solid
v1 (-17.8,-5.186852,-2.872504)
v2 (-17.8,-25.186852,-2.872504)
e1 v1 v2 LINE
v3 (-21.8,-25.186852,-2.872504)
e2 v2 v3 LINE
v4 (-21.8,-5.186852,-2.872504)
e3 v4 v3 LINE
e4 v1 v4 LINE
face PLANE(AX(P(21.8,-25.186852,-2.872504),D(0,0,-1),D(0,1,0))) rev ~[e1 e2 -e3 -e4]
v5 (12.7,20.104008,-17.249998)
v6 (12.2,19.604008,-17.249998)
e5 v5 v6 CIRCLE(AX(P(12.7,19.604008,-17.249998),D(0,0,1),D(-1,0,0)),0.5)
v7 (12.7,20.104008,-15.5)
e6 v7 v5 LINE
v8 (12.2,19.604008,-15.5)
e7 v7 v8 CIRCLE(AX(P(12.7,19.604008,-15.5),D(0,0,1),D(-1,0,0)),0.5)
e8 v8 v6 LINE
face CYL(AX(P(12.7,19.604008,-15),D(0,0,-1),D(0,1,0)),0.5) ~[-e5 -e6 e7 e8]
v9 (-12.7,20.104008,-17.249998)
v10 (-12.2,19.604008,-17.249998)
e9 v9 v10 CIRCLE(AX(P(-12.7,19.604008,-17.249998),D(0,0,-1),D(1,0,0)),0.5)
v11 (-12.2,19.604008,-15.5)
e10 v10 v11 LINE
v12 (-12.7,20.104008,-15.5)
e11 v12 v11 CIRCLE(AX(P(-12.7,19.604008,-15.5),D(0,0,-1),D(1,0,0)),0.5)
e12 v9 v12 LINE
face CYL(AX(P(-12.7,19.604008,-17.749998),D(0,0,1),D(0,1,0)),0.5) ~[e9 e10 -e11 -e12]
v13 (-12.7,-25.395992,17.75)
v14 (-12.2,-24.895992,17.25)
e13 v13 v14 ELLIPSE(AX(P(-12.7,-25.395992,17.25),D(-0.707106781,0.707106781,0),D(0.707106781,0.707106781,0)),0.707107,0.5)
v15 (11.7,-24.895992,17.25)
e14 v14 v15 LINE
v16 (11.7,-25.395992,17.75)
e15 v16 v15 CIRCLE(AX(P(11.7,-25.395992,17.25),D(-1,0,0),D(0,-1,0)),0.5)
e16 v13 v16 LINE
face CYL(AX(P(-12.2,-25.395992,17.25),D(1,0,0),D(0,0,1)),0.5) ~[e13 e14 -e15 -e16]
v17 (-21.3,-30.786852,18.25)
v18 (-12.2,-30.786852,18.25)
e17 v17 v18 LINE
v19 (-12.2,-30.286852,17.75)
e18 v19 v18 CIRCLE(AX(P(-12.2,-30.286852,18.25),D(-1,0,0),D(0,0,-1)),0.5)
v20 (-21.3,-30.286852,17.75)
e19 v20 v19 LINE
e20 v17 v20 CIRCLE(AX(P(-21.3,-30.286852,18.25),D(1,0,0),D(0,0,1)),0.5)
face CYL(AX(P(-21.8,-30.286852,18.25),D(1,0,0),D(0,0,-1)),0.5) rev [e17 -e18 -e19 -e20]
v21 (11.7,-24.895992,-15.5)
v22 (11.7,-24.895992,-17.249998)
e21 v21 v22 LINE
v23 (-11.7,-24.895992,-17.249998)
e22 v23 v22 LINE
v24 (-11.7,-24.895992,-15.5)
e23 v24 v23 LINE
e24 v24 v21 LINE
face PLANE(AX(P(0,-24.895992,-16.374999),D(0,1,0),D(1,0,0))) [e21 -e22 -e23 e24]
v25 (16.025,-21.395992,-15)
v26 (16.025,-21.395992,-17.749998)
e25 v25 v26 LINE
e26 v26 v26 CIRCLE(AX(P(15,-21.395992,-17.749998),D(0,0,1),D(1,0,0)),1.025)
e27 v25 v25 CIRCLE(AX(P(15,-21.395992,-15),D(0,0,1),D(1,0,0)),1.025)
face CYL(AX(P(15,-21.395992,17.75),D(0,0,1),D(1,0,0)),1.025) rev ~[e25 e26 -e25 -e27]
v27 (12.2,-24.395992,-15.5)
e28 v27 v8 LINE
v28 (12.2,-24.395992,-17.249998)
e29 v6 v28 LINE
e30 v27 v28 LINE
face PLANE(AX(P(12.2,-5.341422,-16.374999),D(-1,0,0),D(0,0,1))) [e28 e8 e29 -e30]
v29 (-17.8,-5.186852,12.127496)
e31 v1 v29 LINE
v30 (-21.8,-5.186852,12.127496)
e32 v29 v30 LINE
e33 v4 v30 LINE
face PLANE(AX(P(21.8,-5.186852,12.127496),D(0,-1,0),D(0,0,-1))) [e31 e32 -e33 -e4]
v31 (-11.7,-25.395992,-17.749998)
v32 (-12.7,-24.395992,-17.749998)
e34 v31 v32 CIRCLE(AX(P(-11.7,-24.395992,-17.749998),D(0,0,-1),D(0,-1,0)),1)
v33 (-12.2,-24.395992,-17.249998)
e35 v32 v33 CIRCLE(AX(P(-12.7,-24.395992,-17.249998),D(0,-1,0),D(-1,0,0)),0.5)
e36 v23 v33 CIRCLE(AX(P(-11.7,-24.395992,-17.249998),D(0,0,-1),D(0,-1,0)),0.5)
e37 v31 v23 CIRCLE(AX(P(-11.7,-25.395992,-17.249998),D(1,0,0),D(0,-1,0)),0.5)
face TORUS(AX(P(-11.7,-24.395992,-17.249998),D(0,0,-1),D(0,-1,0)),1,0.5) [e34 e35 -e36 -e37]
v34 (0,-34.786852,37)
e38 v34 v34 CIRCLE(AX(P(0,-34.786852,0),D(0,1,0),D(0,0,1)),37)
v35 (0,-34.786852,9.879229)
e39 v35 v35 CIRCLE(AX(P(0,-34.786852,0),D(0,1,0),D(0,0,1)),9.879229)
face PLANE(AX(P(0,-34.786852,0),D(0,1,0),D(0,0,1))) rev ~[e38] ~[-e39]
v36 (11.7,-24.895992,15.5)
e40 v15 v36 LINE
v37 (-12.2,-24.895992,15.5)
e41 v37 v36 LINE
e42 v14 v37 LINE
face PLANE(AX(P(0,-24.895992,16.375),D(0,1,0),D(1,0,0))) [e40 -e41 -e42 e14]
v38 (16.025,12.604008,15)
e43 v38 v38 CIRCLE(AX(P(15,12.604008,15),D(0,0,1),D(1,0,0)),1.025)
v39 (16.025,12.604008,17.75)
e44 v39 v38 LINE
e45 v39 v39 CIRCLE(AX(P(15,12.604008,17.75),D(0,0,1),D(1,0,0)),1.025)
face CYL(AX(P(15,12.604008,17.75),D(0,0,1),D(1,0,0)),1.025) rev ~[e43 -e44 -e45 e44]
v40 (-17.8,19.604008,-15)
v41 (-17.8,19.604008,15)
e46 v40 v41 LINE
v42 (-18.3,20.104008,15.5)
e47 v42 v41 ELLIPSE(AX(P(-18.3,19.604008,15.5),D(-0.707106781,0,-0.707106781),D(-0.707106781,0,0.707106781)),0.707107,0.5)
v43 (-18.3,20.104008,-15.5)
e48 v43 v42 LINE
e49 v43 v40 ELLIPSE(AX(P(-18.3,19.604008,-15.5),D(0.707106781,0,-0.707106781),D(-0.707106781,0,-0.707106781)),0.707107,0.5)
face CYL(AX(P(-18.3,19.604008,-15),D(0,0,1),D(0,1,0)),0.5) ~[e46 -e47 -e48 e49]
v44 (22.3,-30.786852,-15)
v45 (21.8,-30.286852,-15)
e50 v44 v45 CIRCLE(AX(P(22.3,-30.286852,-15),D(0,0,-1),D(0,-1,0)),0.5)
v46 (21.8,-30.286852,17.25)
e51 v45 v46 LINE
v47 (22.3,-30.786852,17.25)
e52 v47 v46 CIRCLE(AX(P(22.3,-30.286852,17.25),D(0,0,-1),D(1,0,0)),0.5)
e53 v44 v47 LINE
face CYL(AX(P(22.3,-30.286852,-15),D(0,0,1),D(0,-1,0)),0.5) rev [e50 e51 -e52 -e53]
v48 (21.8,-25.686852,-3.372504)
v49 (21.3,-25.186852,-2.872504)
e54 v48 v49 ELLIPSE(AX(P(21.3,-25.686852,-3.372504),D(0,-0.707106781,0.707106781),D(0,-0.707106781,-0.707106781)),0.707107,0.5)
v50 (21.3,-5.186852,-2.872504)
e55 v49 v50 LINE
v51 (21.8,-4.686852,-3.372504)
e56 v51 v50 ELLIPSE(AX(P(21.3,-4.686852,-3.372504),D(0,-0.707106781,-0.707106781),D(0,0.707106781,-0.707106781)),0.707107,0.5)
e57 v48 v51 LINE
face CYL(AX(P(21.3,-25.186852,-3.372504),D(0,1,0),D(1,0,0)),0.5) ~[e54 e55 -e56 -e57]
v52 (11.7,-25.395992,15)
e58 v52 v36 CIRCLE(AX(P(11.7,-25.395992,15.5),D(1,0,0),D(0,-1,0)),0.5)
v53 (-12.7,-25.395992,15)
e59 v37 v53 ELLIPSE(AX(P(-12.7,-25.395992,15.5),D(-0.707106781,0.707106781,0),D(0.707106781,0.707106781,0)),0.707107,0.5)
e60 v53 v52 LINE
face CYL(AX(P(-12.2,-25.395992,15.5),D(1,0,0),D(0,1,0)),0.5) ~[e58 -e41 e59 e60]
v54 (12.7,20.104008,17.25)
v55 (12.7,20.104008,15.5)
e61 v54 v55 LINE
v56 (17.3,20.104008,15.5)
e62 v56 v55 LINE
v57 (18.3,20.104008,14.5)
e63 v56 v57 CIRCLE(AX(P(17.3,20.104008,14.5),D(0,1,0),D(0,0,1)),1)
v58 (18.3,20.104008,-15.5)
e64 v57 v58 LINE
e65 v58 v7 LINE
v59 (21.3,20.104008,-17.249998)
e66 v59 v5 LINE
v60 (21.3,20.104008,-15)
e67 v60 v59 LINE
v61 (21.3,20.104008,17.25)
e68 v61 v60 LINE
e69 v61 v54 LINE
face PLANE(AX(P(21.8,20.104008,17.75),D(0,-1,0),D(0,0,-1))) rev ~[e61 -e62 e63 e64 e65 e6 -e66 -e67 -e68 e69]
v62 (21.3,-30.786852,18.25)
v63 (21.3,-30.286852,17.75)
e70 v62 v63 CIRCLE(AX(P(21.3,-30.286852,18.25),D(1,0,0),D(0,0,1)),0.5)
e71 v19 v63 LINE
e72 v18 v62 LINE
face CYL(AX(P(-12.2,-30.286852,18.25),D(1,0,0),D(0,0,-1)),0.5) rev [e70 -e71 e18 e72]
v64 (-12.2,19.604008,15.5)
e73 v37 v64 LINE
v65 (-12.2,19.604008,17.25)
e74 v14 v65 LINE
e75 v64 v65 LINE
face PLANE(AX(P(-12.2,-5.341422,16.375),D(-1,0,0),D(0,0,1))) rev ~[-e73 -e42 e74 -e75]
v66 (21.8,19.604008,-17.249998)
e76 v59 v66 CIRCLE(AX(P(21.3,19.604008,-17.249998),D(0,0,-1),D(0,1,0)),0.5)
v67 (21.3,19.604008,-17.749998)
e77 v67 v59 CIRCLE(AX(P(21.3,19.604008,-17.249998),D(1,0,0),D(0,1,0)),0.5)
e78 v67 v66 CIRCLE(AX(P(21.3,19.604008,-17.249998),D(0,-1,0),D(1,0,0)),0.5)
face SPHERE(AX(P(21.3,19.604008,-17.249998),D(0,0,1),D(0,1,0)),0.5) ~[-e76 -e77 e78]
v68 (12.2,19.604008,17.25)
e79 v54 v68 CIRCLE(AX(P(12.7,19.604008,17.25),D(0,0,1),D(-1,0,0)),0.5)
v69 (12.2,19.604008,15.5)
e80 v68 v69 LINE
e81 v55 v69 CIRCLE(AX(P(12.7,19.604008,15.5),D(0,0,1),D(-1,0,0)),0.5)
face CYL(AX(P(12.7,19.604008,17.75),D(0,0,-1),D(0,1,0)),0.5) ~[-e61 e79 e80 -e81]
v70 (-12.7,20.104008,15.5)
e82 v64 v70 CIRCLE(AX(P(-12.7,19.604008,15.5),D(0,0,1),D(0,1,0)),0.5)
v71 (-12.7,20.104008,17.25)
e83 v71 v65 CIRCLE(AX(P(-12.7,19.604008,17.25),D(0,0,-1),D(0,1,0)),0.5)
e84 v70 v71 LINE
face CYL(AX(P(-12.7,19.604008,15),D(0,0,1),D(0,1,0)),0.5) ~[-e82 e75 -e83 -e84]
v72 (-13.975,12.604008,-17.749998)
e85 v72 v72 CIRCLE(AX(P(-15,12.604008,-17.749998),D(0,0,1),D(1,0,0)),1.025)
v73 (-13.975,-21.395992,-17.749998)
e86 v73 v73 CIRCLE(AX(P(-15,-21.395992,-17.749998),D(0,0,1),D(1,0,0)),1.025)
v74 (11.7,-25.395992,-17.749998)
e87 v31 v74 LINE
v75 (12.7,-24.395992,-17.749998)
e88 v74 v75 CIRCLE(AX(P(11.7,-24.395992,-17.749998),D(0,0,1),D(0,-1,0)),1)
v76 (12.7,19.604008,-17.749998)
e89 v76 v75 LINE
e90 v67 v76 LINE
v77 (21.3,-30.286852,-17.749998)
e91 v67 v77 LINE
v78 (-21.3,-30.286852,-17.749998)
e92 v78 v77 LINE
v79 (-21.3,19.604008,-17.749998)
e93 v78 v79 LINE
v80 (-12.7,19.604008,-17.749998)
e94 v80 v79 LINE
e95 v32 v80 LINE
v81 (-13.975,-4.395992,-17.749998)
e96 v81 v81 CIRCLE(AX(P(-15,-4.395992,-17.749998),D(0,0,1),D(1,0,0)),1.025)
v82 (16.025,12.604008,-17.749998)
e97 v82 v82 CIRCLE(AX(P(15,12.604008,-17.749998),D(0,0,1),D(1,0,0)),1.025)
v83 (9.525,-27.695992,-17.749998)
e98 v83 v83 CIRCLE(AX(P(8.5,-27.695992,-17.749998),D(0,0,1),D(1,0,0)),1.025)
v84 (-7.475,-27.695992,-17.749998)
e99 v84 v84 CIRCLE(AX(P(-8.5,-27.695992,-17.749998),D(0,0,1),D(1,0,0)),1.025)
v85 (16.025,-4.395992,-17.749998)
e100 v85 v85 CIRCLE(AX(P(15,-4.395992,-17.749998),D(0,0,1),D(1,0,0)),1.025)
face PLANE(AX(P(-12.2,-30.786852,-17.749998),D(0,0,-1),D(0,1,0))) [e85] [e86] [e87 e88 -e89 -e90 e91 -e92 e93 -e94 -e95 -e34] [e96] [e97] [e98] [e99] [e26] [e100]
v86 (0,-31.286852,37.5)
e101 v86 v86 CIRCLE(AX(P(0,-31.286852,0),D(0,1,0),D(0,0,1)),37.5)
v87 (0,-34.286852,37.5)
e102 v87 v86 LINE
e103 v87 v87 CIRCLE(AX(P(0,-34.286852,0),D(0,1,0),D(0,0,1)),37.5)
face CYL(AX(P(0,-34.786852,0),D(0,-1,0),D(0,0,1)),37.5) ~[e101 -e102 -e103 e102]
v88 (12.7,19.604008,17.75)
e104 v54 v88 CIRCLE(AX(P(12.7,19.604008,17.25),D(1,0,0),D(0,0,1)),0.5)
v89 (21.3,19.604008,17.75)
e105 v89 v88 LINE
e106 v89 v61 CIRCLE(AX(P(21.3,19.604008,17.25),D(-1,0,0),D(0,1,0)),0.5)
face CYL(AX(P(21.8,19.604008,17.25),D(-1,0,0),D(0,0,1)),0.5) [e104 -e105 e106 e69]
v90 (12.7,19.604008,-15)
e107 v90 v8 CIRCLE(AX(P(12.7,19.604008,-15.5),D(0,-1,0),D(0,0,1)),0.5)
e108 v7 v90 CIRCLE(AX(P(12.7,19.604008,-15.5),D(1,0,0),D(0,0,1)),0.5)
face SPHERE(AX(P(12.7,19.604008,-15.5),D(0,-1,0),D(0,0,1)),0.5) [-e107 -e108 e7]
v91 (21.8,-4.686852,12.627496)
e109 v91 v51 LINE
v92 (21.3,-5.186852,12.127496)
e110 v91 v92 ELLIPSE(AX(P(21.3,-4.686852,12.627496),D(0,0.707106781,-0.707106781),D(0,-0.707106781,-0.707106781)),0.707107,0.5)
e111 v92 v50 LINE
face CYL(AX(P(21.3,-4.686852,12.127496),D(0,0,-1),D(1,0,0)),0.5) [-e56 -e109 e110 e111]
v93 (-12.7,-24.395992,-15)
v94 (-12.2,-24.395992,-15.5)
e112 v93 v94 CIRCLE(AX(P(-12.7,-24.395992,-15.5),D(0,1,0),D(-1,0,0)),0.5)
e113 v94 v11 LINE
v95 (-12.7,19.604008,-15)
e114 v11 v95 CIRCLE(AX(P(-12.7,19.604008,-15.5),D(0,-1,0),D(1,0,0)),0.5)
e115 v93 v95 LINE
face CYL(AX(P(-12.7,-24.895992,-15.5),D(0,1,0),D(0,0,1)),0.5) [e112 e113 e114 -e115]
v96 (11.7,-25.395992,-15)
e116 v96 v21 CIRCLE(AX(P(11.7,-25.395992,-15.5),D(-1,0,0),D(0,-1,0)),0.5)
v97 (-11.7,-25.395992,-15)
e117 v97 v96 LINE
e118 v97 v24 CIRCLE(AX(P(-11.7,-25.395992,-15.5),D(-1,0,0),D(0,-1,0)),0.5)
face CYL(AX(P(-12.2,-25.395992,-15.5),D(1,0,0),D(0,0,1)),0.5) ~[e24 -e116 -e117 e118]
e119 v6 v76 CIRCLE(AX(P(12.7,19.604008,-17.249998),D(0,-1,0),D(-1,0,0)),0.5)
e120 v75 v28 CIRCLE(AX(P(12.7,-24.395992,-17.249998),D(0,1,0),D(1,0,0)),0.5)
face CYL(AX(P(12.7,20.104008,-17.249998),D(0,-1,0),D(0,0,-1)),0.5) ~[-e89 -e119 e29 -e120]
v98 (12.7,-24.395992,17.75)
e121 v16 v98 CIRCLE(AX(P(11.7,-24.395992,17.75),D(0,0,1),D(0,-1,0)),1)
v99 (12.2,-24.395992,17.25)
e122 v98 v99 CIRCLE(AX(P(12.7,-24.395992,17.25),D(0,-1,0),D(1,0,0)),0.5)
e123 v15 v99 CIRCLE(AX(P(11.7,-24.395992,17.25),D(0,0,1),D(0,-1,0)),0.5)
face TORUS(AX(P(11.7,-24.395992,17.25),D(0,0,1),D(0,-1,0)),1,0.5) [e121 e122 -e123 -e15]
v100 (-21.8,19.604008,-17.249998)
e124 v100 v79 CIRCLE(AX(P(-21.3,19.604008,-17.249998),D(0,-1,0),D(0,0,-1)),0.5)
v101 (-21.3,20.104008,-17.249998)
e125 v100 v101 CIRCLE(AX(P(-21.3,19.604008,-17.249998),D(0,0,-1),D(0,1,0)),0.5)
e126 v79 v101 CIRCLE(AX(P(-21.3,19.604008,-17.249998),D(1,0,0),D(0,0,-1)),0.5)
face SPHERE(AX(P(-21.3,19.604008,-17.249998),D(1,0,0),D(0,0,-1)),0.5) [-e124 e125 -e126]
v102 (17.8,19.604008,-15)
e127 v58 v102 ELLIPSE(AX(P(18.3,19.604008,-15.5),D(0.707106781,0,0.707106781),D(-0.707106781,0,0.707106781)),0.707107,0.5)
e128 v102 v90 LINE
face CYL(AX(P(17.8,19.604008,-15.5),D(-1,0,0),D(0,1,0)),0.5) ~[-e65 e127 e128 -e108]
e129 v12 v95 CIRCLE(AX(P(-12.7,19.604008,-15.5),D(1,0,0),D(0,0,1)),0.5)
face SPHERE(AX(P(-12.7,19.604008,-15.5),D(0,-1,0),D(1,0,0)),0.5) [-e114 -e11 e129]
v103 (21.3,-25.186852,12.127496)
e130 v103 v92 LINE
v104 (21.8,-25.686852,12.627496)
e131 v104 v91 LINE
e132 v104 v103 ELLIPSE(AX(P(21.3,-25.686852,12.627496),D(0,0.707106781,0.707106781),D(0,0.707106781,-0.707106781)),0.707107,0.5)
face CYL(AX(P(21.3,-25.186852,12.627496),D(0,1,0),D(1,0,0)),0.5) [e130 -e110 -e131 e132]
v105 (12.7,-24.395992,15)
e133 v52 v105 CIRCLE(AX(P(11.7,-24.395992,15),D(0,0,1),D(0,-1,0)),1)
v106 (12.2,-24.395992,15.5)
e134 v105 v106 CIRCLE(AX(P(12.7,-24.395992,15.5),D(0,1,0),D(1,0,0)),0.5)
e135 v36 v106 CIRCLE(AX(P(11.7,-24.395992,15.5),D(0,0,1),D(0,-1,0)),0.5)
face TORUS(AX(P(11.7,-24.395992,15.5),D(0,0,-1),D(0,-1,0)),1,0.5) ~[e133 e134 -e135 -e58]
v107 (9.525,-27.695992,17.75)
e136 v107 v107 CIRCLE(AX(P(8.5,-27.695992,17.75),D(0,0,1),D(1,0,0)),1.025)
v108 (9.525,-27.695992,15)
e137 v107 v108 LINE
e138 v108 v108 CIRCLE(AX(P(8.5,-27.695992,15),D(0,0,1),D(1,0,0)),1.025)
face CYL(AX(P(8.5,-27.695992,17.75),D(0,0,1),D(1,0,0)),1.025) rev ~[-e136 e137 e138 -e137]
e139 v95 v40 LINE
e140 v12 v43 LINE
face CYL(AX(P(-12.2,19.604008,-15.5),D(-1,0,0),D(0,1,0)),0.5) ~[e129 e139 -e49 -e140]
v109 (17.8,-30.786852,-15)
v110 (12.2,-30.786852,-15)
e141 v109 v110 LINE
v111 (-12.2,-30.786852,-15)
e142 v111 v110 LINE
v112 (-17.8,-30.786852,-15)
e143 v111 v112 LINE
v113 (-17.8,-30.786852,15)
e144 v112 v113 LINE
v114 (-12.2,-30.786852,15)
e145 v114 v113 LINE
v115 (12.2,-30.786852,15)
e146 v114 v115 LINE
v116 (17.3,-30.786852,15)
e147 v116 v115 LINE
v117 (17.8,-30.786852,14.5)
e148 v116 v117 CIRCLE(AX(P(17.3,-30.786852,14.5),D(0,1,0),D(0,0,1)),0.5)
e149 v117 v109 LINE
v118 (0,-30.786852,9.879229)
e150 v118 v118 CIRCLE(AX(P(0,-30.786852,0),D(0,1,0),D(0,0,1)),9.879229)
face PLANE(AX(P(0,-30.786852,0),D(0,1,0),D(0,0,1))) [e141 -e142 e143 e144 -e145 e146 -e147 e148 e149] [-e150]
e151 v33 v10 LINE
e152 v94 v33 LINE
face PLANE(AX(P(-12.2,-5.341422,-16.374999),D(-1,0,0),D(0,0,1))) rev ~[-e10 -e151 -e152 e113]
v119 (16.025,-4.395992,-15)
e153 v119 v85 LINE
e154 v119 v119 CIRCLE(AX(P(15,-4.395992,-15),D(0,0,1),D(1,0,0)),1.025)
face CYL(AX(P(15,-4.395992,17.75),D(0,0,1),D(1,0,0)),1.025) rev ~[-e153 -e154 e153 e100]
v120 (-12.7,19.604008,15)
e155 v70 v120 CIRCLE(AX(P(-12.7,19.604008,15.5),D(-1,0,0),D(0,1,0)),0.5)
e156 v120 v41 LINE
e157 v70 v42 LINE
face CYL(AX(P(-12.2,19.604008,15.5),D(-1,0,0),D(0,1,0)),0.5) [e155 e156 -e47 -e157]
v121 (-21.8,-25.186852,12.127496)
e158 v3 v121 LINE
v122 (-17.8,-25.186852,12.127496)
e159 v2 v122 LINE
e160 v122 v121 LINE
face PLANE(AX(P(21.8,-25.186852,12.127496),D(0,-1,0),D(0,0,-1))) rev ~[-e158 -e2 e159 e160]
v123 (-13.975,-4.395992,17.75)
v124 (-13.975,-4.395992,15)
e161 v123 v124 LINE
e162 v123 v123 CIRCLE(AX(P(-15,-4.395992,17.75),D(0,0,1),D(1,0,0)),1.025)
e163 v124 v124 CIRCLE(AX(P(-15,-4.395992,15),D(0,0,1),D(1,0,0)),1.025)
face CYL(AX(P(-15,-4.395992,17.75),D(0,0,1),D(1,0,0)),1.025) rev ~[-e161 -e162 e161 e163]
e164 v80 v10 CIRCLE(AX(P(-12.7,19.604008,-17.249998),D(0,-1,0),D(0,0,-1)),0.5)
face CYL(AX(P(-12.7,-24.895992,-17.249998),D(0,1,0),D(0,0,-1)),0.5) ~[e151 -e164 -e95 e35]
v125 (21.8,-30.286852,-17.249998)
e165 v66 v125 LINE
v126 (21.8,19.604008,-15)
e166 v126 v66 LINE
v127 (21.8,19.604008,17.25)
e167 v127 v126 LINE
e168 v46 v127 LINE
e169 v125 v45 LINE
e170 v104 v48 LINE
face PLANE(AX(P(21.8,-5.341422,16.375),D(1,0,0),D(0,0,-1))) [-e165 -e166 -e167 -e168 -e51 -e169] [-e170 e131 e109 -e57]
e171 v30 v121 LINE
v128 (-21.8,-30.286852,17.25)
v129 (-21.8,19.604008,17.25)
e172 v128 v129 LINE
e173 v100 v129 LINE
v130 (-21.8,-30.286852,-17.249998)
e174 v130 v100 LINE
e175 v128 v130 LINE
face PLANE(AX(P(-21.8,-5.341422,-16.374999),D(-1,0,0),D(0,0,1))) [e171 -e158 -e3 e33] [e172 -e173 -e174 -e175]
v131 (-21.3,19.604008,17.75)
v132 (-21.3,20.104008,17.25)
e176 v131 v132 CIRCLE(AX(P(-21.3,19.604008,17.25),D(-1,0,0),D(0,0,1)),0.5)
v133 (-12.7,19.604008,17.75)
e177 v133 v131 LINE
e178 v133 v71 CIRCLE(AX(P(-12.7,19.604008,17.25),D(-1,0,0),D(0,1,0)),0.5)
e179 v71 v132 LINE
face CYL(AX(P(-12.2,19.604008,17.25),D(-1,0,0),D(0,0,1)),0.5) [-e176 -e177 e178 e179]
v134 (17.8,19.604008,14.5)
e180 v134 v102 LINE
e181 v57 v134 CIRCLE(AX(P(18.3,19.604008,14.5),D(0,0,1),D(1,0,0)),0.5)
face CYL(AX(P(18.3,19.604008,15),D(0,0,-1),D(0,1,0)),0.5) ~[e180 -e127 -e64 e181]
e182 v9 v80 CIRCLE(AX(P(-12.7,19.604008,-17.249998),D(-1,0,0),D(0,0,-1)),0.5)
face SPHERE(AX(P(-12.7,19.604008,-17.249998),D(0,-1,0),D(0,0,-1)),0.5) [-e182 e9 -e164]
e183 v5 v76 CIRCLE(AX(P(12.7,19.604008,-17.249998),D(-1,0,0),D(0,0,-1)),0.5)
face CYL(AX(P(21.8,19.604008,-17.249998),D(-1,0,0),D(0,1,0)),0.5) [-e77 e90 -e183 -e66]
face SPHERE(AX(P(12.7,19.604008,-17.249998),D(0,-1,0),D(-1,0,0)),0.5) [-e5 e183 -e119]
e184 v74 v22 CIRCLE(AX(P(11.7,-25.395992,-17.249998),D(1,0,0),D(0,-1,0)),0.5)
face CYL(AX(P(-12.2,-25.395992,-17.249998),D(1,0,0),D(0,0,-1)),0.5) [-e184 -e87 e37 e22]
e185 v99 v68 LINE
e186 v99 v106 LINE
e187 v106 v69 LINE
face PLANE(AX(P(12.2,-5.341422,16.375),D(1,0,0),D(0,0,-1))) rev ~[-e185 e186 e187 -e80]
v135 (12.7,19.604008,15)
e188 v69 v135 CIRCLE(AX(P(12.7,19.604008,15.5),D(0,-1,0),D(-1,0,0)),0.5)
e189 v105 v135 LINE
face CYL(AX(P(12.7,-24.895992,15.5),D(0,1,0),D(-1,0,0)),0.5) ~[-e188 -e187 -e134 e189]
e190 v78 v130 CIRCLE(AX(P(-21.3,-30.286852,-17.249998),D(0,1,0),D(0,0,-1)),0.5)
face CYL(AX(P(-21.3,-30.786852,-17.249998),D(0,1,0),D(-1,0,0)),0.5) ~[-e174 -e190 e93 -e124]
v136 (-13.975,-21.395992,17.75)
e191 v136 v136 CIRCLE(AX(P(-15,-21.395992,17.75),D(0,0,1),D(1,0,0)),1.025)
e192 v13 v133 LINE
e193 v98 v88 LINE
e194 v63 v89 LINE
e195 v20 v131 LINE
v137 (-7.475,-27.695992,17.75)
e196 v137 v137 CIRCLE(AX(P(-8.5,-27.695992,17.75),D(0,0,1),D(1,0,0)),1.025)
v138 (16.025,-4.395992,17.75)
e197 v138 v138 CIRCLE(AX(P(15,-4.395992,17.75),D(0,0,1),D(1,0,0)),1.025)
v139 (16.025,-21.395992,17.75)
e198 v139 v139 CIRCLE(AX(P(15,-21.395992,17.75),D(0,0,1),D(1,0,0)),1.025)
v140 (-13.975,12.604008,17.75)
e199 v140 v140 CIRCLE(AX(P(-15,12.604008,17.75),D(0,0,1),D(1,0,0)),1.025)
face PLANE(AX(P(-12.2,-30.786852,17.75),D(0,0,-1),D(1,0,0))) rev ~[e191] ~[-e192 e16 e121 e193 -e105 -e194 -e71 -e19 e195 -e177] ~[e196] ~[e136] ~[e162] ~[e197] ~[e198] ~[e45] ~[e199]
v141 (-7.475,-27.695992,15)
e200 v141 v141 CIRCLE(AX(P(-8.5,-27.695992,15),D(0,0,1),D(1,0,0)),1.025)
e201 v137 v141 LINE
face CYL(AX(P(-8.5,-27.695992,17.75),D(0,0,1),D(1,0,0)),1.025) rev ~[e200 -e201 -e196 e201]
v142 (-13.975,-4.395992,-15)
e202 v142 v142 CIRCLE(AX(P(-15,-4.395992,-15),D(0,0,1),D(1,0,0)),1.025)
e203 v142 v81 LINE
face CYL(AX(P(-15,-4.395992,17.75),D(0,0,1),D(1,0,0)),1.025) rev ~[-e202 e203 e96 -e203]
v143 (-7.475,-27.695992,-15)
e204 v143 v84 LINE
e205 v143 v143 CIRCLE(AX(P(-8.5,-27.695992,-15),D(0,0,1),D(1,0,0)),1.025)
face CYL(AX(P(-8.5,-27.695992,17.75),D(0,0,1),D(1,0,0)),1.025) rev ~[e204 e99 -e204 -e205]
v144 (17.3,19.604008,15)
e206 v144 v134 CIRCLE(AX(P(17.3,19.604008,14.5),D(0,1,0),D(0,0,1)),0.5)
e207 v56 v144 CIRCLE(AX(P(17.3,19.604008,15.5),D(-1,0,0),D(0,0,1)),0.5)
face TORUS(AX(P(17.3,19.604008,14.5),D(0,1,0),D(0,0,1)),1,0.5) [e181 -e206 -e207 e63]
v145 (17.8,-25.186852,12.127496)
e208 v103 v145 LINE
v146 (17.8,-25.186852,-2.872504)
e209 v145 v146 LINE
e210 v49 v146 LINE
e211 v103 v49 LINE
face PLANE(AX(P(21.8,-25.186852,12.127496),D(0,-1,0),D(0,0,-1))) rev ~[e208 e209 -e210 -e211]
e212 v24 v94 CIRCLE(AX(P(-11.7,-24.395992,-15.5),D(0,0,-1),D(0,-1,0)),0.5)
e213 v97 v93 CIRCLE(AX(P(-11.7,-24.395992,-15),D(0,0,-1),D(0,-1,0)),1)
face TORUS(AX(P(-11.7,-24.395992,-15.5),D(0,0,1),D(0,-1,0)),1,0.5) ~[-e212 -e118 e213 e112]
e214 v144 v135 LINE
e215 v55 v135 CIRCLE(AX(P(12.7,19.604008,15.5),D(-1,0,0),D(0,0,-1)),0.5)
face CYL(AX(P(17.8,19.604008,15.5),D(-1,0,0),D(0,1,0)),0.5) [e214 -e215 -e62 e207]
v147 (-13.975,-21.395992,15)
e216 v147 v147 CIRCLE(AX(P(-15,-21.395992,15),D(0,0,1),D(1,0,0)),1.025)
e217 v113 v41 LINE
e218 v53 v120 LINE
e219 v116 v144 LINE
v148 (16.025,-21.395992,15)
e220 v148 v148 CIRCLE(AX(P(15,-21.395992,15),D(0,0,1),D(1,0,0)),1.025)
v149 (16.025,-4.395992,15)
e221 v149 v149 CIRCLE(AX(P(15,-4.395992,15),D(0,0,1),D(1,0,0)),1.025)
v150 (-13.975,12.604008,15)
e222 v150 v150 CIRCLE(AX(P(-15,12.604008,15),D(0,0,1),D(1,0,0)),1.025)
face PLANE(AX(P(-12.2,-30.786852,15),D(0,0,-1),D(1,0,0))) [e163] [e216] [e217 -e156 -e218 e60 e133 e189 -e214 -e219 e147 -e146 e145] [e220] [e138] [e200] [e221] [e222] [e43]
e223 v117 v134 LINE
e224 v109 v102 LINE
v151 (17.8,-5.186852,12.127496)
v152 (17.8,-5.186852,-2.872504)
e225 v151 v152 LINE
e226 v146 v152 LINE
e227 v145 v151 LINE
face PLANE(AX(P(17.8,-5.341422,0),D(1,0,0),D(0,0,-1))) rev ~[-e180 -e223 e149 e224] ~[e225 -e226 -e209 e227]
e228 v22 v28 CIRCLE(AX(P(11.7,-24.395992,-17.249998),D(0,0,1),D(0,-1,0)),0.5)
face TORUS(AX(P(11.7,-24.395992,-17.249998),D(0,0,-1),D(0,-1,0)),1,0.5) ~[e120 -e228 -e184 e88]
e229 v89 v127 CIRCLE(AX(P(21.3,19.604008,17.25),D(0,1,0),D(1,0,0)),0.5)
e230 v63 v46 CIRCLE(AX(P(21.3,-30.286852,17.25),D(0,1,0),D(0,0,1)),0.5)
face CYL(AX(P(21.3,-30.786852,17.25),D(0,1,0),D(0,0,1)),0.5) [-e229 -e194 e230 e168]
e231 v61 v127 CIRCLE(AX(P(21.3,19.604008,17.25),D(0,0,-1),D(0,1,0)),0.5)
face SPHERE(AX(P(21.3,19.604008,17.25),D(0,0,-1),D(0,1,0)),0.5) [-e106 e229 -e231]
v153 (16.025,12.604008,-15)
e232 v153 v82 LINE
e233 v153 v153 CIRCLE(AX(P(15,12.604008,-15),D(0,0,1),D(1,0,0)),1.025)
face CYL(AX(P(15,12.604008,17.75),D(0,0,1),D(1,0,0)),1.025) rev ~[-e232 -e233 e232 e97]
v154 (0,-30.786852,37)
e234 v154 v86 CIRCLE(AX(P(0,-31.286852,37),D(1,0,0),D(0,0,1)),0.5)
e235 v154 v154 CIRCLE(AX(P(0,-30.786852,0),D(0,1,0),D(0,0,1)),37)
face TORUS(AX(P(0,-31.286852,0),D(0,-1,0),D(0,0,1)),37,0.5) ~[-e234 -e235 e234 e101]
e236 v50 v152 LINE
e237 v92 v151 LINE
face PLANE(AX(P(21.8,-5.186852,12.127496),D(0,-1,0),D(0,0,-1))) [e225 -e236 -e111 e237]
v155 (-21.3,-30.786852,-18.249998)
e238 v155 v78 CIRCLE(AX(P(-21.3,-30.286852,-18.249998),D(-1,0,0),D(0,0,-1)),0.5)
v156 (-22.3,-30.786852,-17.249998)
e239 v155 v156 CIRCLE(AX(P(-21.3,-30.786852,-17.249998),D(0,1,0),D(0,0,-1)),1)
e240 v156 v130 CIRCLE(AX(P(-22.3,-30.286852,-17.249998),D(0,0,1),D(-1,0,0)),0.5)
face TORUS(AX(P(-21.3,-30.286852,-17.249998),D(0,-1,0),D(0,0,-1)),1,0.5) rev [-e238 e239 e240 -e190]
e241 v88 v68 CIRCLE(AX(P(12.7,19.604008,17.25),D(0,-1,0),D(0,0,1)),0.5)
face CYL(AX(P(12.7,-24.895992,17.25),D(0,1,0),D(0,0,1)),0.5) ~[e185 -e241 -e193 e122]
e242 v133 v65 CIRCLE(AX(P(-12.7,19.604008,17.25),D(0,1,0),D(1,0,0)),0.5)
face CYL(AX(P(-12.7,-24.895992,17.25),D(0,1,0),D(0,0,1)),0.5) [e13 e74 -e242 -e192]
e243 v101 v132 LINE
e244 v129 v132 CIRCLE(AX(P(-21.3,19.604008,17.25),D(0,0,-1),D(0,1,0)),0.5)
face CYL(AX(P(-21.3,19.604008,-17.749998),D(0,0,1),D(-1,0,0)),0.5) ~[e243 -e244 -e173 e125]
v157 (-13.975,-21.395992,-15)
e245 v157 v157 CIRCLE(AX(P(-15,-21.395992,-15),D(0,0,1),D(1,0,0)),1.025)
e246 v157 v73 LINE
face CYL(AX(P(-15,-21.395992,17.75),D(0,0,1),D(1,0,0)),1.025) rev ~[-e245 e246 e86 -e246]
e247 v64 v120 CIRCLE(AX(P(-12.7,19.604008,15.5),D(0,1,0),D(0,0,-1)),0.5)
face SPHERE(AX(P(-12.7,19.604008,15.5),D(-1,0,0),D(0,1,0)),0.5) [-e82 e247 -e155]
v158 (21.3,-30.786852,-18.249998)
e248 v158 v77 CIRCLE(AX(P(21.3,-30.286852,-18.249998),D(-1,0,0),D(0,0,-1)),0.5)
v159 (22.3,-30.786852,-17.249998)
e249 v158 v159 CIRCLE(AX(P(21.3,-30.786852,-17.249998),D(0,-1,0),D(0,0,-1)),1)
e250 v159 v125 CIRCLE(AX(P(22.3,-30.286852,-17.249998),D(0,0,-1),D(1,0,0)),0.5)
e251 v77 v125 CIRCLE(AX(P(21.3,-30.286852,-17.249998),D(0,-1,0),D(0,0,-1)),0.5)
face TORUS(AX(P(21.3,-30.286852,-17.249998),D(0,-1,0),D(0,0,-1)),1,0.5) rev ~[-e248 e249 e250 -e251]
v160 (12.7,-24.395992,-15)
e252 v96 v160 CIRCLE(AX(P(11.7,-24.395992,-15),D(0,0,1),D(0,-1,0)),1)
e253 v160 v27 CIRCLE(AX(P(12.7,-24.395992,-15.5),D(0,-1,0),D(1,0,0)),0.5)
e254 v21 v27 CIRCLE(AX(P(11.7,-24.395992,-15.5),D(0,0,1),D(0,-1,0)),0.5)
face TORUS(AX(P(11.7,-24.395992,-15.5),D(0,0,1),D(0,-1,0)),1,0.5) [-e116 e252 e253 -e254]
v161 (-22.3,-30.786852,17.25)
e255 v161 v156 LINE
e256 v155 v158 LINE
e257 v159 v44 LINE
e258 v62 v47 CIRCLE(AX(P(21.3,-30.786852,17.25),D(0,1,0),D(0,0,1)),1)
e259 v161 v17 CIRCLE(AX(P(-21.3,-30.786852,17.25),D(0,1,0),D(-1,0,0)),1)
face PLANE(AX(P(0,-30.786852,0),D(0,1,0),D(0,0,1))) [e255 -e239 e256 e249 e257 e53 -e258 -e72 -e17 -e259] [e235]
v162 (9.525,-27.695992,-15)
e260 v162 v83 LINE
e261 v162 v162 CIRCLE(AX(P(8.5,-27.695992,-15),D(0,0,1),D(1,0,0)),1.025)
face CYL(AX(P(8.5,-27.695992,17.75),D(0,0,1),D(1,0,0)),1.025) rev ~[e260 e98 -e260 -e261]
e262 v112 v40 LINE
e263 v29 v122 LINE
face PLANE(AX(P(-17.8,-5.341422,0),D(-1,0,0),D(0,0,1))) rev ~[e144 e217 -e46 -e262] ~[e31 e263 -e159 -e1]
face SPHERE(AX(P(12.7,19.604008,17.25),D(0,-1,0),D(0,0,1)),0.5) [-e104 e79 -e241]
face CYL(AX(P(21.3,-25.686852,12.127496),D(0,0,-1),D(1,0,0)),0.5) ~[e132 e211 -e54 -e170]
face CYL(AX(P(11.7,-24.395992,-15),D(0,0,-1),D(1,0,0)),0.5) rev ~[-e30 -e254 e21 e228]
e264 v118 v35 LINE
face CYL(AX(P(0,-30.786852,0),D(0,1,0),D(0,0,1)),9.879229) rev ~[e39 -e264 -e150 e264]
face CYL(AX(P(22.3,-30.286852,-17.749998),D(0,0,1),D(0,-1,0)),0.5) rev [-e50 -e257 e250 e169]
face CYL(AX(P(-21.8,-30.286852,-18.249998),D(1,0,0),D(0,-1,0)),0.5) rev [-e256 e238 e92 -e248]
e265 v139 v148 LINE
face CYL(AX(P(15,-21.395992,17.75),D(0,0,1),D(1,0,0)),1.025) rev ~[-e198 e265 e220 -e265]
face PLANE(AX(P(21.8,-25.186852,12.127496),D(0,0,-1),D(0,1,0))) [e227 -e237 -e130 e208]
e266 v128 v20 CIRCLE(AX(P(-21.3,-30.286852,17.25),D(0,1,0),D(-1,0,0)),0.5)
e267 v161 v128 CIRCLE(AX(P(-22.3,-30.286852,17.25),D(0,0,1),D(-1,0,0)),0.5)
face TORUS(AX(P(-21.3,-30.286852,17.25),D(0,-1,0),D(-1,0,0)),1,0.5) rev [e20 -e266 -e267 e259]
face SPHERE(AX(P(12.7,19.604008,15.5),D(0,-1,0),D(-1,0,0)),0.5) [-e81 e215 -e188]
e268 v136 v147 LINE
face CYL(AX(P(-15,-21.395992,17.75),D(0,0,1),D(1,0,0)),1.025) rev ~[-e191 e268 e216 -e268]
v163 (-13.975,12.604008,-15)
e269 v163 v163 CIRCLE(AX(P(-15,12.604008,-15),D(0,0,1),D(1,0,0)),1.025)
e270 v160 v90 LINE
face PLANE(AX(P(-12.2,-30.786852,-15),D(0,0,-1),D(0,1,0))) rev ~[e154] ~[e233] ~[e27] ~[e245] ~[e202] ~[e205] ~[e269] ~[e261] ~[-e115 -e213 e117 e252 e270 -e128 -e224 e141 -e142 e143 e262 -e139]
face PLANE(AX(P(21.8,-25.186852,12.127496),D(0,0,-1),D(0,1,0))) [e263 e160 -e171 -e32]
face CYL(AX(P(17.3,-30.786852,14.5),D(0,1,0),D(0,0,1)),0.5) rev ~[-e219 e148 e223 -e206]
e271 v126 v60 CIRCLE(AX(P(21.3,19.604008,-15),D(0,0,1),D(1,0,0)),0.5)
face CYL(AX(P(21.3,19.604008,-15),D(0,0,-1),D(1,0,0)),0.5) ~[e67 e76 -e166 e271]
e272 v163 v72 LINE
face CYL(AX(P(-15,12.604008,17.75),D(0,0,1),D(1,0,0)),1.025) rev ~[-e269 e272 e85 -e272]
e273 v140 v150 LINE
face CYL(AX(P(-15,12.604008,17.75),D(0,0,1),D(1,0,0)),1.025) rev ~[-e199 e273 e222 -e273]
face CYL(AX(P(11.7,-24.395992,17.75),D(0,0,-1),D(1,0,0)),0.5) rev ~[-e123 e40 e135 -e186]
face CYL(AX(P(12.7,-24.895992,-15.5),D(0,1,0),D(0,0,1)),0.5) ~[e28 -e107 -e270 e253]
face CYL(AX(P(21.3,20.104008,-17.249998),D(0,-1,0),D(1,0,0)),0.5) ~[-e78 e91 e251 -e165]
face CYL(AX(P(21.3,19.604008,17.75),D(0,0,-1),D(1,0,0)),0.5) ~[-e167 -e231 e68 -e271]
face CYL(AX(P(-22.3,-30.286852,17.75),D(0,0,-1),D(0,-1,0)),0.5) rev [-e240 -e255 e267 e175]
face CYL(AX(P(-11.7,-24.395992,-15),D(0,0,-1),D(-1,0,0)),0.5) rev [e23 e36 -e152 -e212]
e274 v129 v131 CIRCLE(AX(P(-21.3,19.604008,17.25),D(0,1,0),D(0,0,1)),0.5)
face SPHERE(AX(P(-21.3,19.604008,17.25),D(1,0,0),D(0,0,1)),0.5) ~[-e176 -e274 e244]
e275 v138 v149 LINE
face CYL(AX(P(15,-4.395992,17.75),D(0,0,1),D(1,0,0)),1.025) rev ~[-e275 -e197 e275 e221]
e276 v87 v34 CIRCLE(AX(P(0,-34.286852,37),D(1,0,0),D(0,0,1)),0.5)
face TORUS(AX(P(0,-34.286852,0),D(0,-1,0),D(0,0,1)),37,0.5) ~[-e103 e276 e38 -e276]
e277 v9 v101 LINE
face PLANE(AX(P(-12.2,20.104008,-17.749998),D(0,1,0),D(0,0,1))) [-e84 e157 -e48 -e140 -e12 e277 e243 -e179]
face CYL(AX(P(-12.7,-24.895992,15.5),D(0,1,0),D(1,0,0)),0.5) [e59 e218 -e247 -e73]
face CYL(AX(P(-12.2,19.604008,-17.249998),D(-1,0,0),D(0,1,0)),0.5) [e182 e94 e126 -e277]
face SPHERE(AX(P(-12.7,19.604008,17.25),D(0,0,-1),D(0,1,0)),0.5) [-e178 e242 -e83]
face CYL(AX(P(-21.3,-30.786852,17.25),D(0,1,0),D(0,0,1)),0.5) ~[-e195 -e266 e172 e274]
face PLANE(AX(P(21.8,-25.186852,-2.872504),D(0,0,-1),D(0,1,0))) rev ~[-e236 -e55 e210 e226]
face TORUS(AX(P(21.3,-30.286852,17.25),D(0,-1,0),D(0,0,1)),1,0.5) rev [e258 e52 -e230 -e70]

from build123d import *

# Parameters (mm, degrees)
SKETCH1_R           = 37.5
BOSS_EXTRUDE1_DEPTH = 4
SKETCH2_R           = 9.879229091
CUT_EXTRUDE1_DEPTH  = 83.614522064
SKETCH3_W           = 30.000000003
SKETCH3_H           = 50.890860003
BOSS_EXTRUDE2_DEPTH = 4
SKETCH4_W           = 2.749999997
SKETCH4_H           = 50.890860003
BOSS_EXTRUDE3_DEPTH = 9.6
SKETCH5_W           = 30.000000003
SKETCH5_H           = 50.890860003
BOSS_EXTRUDE4_DEPTH = 4
BOSS_EXTRUDE5_START = -9.6
SKETCH6_W           = 2.749998353
SKETCH6_H           = 50.890860003
SKETCH6_W_2         = 2.749999997
BOSS_EXTRUDE5_DEPTH = 9.6
SKETCH7_W           = 24.4
SKETCH7_H           = 2.749999997
SKETCH7_H_2         = 2.749998353
BOSS_EXTRUDE6_DEPTH = 5.890860005
SKETCH9_R           = 1.025
CUT_EXTRUDE2_DEPTH  = 76.29234718
SKETCH10_W          = 15
SKETCH10_H          = 20
CUT_EXTRUDE3_DEPTH  = 79.312611015
FILLET1_R           = 0.5


with BuildPart() as part:
    # Sketch1 → Boss-Extrude1 (new body)
    with BuildSketch(Plane(origin=(0, -34.786851595, 0), x_dir=(1, 0, 0), z_dir=(0, 1, 0))):
        with Locations(Location((0, 0, 0), (0, 0, 270))):
            Circle(SKETCH1_R)
    extrude(amount=BOSS_EXTRUDE1_DEPTH)

    # Sketch2 → Cut-Extrude1 (cut, through all)
    with BuildSketch(Plane(origin=(-36.004484597, -30.786851595, 0), x_dir=(1, 0, 0), z_dir=(0, 1, 0))):
        with Locations(Location((36.004484597, 0, 0), (0, 0, 270))):
            Circle(SKETCH2_R)
    extrude(amount=-CUT_EXTRUDE1_DEPTH, mode=Mode.SUBTRACT)

    # Sketch3 → Boss-Extrude2 (add)
    with BuildSketch(Plane(origin=(17.8, 0, 0), x_dir=(0, 0, -1), z_dir=(1, 0, 0))):
        with Locations((-1e-09, -5.341421593)):
            Rectangle(SKETCH3_W, SKETCH3_H)
    extrude(amount=BOSS_EXTRUDE2_DEPTH)

    # Sketch4 → Boss-Extrude3 (add)
    with BuildSketch(Plane(origin=(21.8, 0, 0), x_dir=(0, 0, -1), z_dir=(1, 0, 0))):
        with Locations((-16.375000001, -5.341421593)):
            Rectangle(SKETCH4_W, SKETCH4_H)
        Polygon((15, 20.104008408), (17.749998353, 20.104008408), (17.749998353, -30.786851595), (15, -30.786851595), align=None)
    extrude(amount=-BOSS_EXTRUDE3_DEPTH)

    # Sketch5 → Boss-Extrude4 (add)
    with BuildSketch(Plane.ZY.offset(17.8)):
        with Locations((1e-09, -5.341421593)):
            Rectangle(SKETCH5_W, SKETCH5_H)
    extrude(amount=BOSS_EXTRUDE4_DEPTH)

    # Sketch6 → Boss-Extrude5 (add)
    with BuildSketch(Plane.ZY.offset(21.8).offset(BOSS_EXTRUDE5_START)):
        with Locations((-16.374999177, -5.341421593)):
            Rectangle(SKETCH6_W, SKETCH6_H)
        with Locations((16.375000001, -5.341421593)):
            Rectangle(SKETCH6_W_2, SKETCH6_H)
    extrude(amount=BOSS_EXTRUDE5_DEPTH)

    # Sketch7 → Boss-Extrude6 (add)
    with BuildSketch(Plane(origin=(-36.004484597, -30.786851595, 0), x_dir=(1, 0, 0), z_dir=(0, 1, 0))):
        with Locations((36.004484597, -16.375000001)):
            Rectangle(SKETCH7_W, SKETCH7_H)
        with Locations((36.004484597, 16.374999177)):
            Rectangle(SKETCH7_W, SKETCH7_H_2)
    extrude(amount=BOSS_EXTRUDE6_DEPTH)

    # Sketch9 → Cut-Extrude2 (cut, through all)
    with BuildSketch(Plane.XY.offset(17.75)):
        with Locations((-15, 12.60400841)):
            Circle(SKETCH9_R)
        with Locations((-15, -4.39599159)):
            Circle(SKETCH9_R)
        with Locations((-15, -21.39599159)):
            Circle(SKETCH9_R)
        with Locations((-8.5, -27.69599159)):
            Circle(SKETCH9_R)
        with Locations((8.5, -27.69599159)):
            Circle(SKETCH9_R)
        with Locations((15, -21.39599159)):
            Circle(SKETCH9_R)
        with Locations((15, -4.39599159)):
            Circle(SKETCH9_R)
        with Locations((15, 12.60400841)):
            Circle(SKETCH9_R)
    extrude(amount=-CUT_EXTRUDE2_DEPTH, mode=Mode.SUBTRACT)

    # Sketch10 → Cut-Extrude3 (cut, through all)
    with BuildSketch(Plane(origin=(21.8, 0, 0), x_dir=(0, 0, -1), z_dir=(1, 0, 0))):
        with Locations((-4.62749624, -15.186851595)):
            Rectangle(SKETCH10_W, SKETCH10_H)
    extrude(amount=-CUT_EXTRUDE3_DEPTH, mode=Mode.SUBTRACT)

    # Fillet1
    fillet1_edges = [part.edges().sort_by_distance(p)[0] for p in [
        (0, -24.89599159, -15),
        (0, -24.89599159, 15.000000003),
        (0, -24.89599159, 17.75),
        (0, -30.786851595, -17.749998353),
        (-12.2, -2.395991591, -15),
        (-12.2, -2.395991591, -17.749998353),
        (-12.2, -24.89599159, -16.374999176),
        (-15, 20.104008408, 15.000000003),
        (-12.2, 20.104008408, 16.375000002),
        (-17, 20.104008408, 17.75),
        (-17, 20.104008408, -17.749998353),
        (-12.2, 20.104008408, -16.374999176),
        (-15, 20.104008408, -15),
        (-17.8, 20.104008408, 2e-09),
        (-21.8, -5.341421594, 17.75),
        (-21.8, -30.786851595, 8.24e-07),
        (21.8, -30.786851595, 8.24e-07),
        (-21.8, -5.341421594, -17.749998353),
        (21.8, 20.104008408, 8.24e-07),
        (-21.8, 20.104008408, 8.24e-07),
        (12.2, -2.395991591, -17.749998353),
        (12.2, -2.395991591, -15),
        (12.2, -24.89599159, -16.374999176),
        (12.2, -2.395991591, 15.000000003),
        (12.2, -2.395991591, 17.75),
        (12.2, -24.89599159, 16.375000002),
        (15, 20.104008408, -15),
        (12.2, 20.104008408, -16.374999176),
        (17, 20.104008408, -17.749998353),
        (17, 20.104008408, 17.75),
        (12.2, 20.104008408, 16.375000002),
        (15, 20.104008408, 15.000000003),
        (17.8, 20.104008408, 2e-09),
        (21.8, -5.341421594, -17.749998353),
        (21.8, -5.341421594, 17.75),
        (21.8, -25.186851595, 4.62749624),
        (21.8, -15.186851595, -2.87250376),
        (21.8, -5.186851595, 4.62749624),
        (21.8, -15.186851595, 12.12749624),
        (0, -30.786851595, -37.5),
        (-12.2, -2.395991591, 15.000000003),
        (-12.2, -2.395991591, 17.75),
        (0, -24.89599159, -17.749998353),
        (0, -34.786851595, -37.5),
        (17.8, -5.341421594, 15.000000003),
        (0, -30.786851595, 17.75),
    ]]
    fillet(fillet1_edges, radius=FILLET1_R)


solid = part.part
